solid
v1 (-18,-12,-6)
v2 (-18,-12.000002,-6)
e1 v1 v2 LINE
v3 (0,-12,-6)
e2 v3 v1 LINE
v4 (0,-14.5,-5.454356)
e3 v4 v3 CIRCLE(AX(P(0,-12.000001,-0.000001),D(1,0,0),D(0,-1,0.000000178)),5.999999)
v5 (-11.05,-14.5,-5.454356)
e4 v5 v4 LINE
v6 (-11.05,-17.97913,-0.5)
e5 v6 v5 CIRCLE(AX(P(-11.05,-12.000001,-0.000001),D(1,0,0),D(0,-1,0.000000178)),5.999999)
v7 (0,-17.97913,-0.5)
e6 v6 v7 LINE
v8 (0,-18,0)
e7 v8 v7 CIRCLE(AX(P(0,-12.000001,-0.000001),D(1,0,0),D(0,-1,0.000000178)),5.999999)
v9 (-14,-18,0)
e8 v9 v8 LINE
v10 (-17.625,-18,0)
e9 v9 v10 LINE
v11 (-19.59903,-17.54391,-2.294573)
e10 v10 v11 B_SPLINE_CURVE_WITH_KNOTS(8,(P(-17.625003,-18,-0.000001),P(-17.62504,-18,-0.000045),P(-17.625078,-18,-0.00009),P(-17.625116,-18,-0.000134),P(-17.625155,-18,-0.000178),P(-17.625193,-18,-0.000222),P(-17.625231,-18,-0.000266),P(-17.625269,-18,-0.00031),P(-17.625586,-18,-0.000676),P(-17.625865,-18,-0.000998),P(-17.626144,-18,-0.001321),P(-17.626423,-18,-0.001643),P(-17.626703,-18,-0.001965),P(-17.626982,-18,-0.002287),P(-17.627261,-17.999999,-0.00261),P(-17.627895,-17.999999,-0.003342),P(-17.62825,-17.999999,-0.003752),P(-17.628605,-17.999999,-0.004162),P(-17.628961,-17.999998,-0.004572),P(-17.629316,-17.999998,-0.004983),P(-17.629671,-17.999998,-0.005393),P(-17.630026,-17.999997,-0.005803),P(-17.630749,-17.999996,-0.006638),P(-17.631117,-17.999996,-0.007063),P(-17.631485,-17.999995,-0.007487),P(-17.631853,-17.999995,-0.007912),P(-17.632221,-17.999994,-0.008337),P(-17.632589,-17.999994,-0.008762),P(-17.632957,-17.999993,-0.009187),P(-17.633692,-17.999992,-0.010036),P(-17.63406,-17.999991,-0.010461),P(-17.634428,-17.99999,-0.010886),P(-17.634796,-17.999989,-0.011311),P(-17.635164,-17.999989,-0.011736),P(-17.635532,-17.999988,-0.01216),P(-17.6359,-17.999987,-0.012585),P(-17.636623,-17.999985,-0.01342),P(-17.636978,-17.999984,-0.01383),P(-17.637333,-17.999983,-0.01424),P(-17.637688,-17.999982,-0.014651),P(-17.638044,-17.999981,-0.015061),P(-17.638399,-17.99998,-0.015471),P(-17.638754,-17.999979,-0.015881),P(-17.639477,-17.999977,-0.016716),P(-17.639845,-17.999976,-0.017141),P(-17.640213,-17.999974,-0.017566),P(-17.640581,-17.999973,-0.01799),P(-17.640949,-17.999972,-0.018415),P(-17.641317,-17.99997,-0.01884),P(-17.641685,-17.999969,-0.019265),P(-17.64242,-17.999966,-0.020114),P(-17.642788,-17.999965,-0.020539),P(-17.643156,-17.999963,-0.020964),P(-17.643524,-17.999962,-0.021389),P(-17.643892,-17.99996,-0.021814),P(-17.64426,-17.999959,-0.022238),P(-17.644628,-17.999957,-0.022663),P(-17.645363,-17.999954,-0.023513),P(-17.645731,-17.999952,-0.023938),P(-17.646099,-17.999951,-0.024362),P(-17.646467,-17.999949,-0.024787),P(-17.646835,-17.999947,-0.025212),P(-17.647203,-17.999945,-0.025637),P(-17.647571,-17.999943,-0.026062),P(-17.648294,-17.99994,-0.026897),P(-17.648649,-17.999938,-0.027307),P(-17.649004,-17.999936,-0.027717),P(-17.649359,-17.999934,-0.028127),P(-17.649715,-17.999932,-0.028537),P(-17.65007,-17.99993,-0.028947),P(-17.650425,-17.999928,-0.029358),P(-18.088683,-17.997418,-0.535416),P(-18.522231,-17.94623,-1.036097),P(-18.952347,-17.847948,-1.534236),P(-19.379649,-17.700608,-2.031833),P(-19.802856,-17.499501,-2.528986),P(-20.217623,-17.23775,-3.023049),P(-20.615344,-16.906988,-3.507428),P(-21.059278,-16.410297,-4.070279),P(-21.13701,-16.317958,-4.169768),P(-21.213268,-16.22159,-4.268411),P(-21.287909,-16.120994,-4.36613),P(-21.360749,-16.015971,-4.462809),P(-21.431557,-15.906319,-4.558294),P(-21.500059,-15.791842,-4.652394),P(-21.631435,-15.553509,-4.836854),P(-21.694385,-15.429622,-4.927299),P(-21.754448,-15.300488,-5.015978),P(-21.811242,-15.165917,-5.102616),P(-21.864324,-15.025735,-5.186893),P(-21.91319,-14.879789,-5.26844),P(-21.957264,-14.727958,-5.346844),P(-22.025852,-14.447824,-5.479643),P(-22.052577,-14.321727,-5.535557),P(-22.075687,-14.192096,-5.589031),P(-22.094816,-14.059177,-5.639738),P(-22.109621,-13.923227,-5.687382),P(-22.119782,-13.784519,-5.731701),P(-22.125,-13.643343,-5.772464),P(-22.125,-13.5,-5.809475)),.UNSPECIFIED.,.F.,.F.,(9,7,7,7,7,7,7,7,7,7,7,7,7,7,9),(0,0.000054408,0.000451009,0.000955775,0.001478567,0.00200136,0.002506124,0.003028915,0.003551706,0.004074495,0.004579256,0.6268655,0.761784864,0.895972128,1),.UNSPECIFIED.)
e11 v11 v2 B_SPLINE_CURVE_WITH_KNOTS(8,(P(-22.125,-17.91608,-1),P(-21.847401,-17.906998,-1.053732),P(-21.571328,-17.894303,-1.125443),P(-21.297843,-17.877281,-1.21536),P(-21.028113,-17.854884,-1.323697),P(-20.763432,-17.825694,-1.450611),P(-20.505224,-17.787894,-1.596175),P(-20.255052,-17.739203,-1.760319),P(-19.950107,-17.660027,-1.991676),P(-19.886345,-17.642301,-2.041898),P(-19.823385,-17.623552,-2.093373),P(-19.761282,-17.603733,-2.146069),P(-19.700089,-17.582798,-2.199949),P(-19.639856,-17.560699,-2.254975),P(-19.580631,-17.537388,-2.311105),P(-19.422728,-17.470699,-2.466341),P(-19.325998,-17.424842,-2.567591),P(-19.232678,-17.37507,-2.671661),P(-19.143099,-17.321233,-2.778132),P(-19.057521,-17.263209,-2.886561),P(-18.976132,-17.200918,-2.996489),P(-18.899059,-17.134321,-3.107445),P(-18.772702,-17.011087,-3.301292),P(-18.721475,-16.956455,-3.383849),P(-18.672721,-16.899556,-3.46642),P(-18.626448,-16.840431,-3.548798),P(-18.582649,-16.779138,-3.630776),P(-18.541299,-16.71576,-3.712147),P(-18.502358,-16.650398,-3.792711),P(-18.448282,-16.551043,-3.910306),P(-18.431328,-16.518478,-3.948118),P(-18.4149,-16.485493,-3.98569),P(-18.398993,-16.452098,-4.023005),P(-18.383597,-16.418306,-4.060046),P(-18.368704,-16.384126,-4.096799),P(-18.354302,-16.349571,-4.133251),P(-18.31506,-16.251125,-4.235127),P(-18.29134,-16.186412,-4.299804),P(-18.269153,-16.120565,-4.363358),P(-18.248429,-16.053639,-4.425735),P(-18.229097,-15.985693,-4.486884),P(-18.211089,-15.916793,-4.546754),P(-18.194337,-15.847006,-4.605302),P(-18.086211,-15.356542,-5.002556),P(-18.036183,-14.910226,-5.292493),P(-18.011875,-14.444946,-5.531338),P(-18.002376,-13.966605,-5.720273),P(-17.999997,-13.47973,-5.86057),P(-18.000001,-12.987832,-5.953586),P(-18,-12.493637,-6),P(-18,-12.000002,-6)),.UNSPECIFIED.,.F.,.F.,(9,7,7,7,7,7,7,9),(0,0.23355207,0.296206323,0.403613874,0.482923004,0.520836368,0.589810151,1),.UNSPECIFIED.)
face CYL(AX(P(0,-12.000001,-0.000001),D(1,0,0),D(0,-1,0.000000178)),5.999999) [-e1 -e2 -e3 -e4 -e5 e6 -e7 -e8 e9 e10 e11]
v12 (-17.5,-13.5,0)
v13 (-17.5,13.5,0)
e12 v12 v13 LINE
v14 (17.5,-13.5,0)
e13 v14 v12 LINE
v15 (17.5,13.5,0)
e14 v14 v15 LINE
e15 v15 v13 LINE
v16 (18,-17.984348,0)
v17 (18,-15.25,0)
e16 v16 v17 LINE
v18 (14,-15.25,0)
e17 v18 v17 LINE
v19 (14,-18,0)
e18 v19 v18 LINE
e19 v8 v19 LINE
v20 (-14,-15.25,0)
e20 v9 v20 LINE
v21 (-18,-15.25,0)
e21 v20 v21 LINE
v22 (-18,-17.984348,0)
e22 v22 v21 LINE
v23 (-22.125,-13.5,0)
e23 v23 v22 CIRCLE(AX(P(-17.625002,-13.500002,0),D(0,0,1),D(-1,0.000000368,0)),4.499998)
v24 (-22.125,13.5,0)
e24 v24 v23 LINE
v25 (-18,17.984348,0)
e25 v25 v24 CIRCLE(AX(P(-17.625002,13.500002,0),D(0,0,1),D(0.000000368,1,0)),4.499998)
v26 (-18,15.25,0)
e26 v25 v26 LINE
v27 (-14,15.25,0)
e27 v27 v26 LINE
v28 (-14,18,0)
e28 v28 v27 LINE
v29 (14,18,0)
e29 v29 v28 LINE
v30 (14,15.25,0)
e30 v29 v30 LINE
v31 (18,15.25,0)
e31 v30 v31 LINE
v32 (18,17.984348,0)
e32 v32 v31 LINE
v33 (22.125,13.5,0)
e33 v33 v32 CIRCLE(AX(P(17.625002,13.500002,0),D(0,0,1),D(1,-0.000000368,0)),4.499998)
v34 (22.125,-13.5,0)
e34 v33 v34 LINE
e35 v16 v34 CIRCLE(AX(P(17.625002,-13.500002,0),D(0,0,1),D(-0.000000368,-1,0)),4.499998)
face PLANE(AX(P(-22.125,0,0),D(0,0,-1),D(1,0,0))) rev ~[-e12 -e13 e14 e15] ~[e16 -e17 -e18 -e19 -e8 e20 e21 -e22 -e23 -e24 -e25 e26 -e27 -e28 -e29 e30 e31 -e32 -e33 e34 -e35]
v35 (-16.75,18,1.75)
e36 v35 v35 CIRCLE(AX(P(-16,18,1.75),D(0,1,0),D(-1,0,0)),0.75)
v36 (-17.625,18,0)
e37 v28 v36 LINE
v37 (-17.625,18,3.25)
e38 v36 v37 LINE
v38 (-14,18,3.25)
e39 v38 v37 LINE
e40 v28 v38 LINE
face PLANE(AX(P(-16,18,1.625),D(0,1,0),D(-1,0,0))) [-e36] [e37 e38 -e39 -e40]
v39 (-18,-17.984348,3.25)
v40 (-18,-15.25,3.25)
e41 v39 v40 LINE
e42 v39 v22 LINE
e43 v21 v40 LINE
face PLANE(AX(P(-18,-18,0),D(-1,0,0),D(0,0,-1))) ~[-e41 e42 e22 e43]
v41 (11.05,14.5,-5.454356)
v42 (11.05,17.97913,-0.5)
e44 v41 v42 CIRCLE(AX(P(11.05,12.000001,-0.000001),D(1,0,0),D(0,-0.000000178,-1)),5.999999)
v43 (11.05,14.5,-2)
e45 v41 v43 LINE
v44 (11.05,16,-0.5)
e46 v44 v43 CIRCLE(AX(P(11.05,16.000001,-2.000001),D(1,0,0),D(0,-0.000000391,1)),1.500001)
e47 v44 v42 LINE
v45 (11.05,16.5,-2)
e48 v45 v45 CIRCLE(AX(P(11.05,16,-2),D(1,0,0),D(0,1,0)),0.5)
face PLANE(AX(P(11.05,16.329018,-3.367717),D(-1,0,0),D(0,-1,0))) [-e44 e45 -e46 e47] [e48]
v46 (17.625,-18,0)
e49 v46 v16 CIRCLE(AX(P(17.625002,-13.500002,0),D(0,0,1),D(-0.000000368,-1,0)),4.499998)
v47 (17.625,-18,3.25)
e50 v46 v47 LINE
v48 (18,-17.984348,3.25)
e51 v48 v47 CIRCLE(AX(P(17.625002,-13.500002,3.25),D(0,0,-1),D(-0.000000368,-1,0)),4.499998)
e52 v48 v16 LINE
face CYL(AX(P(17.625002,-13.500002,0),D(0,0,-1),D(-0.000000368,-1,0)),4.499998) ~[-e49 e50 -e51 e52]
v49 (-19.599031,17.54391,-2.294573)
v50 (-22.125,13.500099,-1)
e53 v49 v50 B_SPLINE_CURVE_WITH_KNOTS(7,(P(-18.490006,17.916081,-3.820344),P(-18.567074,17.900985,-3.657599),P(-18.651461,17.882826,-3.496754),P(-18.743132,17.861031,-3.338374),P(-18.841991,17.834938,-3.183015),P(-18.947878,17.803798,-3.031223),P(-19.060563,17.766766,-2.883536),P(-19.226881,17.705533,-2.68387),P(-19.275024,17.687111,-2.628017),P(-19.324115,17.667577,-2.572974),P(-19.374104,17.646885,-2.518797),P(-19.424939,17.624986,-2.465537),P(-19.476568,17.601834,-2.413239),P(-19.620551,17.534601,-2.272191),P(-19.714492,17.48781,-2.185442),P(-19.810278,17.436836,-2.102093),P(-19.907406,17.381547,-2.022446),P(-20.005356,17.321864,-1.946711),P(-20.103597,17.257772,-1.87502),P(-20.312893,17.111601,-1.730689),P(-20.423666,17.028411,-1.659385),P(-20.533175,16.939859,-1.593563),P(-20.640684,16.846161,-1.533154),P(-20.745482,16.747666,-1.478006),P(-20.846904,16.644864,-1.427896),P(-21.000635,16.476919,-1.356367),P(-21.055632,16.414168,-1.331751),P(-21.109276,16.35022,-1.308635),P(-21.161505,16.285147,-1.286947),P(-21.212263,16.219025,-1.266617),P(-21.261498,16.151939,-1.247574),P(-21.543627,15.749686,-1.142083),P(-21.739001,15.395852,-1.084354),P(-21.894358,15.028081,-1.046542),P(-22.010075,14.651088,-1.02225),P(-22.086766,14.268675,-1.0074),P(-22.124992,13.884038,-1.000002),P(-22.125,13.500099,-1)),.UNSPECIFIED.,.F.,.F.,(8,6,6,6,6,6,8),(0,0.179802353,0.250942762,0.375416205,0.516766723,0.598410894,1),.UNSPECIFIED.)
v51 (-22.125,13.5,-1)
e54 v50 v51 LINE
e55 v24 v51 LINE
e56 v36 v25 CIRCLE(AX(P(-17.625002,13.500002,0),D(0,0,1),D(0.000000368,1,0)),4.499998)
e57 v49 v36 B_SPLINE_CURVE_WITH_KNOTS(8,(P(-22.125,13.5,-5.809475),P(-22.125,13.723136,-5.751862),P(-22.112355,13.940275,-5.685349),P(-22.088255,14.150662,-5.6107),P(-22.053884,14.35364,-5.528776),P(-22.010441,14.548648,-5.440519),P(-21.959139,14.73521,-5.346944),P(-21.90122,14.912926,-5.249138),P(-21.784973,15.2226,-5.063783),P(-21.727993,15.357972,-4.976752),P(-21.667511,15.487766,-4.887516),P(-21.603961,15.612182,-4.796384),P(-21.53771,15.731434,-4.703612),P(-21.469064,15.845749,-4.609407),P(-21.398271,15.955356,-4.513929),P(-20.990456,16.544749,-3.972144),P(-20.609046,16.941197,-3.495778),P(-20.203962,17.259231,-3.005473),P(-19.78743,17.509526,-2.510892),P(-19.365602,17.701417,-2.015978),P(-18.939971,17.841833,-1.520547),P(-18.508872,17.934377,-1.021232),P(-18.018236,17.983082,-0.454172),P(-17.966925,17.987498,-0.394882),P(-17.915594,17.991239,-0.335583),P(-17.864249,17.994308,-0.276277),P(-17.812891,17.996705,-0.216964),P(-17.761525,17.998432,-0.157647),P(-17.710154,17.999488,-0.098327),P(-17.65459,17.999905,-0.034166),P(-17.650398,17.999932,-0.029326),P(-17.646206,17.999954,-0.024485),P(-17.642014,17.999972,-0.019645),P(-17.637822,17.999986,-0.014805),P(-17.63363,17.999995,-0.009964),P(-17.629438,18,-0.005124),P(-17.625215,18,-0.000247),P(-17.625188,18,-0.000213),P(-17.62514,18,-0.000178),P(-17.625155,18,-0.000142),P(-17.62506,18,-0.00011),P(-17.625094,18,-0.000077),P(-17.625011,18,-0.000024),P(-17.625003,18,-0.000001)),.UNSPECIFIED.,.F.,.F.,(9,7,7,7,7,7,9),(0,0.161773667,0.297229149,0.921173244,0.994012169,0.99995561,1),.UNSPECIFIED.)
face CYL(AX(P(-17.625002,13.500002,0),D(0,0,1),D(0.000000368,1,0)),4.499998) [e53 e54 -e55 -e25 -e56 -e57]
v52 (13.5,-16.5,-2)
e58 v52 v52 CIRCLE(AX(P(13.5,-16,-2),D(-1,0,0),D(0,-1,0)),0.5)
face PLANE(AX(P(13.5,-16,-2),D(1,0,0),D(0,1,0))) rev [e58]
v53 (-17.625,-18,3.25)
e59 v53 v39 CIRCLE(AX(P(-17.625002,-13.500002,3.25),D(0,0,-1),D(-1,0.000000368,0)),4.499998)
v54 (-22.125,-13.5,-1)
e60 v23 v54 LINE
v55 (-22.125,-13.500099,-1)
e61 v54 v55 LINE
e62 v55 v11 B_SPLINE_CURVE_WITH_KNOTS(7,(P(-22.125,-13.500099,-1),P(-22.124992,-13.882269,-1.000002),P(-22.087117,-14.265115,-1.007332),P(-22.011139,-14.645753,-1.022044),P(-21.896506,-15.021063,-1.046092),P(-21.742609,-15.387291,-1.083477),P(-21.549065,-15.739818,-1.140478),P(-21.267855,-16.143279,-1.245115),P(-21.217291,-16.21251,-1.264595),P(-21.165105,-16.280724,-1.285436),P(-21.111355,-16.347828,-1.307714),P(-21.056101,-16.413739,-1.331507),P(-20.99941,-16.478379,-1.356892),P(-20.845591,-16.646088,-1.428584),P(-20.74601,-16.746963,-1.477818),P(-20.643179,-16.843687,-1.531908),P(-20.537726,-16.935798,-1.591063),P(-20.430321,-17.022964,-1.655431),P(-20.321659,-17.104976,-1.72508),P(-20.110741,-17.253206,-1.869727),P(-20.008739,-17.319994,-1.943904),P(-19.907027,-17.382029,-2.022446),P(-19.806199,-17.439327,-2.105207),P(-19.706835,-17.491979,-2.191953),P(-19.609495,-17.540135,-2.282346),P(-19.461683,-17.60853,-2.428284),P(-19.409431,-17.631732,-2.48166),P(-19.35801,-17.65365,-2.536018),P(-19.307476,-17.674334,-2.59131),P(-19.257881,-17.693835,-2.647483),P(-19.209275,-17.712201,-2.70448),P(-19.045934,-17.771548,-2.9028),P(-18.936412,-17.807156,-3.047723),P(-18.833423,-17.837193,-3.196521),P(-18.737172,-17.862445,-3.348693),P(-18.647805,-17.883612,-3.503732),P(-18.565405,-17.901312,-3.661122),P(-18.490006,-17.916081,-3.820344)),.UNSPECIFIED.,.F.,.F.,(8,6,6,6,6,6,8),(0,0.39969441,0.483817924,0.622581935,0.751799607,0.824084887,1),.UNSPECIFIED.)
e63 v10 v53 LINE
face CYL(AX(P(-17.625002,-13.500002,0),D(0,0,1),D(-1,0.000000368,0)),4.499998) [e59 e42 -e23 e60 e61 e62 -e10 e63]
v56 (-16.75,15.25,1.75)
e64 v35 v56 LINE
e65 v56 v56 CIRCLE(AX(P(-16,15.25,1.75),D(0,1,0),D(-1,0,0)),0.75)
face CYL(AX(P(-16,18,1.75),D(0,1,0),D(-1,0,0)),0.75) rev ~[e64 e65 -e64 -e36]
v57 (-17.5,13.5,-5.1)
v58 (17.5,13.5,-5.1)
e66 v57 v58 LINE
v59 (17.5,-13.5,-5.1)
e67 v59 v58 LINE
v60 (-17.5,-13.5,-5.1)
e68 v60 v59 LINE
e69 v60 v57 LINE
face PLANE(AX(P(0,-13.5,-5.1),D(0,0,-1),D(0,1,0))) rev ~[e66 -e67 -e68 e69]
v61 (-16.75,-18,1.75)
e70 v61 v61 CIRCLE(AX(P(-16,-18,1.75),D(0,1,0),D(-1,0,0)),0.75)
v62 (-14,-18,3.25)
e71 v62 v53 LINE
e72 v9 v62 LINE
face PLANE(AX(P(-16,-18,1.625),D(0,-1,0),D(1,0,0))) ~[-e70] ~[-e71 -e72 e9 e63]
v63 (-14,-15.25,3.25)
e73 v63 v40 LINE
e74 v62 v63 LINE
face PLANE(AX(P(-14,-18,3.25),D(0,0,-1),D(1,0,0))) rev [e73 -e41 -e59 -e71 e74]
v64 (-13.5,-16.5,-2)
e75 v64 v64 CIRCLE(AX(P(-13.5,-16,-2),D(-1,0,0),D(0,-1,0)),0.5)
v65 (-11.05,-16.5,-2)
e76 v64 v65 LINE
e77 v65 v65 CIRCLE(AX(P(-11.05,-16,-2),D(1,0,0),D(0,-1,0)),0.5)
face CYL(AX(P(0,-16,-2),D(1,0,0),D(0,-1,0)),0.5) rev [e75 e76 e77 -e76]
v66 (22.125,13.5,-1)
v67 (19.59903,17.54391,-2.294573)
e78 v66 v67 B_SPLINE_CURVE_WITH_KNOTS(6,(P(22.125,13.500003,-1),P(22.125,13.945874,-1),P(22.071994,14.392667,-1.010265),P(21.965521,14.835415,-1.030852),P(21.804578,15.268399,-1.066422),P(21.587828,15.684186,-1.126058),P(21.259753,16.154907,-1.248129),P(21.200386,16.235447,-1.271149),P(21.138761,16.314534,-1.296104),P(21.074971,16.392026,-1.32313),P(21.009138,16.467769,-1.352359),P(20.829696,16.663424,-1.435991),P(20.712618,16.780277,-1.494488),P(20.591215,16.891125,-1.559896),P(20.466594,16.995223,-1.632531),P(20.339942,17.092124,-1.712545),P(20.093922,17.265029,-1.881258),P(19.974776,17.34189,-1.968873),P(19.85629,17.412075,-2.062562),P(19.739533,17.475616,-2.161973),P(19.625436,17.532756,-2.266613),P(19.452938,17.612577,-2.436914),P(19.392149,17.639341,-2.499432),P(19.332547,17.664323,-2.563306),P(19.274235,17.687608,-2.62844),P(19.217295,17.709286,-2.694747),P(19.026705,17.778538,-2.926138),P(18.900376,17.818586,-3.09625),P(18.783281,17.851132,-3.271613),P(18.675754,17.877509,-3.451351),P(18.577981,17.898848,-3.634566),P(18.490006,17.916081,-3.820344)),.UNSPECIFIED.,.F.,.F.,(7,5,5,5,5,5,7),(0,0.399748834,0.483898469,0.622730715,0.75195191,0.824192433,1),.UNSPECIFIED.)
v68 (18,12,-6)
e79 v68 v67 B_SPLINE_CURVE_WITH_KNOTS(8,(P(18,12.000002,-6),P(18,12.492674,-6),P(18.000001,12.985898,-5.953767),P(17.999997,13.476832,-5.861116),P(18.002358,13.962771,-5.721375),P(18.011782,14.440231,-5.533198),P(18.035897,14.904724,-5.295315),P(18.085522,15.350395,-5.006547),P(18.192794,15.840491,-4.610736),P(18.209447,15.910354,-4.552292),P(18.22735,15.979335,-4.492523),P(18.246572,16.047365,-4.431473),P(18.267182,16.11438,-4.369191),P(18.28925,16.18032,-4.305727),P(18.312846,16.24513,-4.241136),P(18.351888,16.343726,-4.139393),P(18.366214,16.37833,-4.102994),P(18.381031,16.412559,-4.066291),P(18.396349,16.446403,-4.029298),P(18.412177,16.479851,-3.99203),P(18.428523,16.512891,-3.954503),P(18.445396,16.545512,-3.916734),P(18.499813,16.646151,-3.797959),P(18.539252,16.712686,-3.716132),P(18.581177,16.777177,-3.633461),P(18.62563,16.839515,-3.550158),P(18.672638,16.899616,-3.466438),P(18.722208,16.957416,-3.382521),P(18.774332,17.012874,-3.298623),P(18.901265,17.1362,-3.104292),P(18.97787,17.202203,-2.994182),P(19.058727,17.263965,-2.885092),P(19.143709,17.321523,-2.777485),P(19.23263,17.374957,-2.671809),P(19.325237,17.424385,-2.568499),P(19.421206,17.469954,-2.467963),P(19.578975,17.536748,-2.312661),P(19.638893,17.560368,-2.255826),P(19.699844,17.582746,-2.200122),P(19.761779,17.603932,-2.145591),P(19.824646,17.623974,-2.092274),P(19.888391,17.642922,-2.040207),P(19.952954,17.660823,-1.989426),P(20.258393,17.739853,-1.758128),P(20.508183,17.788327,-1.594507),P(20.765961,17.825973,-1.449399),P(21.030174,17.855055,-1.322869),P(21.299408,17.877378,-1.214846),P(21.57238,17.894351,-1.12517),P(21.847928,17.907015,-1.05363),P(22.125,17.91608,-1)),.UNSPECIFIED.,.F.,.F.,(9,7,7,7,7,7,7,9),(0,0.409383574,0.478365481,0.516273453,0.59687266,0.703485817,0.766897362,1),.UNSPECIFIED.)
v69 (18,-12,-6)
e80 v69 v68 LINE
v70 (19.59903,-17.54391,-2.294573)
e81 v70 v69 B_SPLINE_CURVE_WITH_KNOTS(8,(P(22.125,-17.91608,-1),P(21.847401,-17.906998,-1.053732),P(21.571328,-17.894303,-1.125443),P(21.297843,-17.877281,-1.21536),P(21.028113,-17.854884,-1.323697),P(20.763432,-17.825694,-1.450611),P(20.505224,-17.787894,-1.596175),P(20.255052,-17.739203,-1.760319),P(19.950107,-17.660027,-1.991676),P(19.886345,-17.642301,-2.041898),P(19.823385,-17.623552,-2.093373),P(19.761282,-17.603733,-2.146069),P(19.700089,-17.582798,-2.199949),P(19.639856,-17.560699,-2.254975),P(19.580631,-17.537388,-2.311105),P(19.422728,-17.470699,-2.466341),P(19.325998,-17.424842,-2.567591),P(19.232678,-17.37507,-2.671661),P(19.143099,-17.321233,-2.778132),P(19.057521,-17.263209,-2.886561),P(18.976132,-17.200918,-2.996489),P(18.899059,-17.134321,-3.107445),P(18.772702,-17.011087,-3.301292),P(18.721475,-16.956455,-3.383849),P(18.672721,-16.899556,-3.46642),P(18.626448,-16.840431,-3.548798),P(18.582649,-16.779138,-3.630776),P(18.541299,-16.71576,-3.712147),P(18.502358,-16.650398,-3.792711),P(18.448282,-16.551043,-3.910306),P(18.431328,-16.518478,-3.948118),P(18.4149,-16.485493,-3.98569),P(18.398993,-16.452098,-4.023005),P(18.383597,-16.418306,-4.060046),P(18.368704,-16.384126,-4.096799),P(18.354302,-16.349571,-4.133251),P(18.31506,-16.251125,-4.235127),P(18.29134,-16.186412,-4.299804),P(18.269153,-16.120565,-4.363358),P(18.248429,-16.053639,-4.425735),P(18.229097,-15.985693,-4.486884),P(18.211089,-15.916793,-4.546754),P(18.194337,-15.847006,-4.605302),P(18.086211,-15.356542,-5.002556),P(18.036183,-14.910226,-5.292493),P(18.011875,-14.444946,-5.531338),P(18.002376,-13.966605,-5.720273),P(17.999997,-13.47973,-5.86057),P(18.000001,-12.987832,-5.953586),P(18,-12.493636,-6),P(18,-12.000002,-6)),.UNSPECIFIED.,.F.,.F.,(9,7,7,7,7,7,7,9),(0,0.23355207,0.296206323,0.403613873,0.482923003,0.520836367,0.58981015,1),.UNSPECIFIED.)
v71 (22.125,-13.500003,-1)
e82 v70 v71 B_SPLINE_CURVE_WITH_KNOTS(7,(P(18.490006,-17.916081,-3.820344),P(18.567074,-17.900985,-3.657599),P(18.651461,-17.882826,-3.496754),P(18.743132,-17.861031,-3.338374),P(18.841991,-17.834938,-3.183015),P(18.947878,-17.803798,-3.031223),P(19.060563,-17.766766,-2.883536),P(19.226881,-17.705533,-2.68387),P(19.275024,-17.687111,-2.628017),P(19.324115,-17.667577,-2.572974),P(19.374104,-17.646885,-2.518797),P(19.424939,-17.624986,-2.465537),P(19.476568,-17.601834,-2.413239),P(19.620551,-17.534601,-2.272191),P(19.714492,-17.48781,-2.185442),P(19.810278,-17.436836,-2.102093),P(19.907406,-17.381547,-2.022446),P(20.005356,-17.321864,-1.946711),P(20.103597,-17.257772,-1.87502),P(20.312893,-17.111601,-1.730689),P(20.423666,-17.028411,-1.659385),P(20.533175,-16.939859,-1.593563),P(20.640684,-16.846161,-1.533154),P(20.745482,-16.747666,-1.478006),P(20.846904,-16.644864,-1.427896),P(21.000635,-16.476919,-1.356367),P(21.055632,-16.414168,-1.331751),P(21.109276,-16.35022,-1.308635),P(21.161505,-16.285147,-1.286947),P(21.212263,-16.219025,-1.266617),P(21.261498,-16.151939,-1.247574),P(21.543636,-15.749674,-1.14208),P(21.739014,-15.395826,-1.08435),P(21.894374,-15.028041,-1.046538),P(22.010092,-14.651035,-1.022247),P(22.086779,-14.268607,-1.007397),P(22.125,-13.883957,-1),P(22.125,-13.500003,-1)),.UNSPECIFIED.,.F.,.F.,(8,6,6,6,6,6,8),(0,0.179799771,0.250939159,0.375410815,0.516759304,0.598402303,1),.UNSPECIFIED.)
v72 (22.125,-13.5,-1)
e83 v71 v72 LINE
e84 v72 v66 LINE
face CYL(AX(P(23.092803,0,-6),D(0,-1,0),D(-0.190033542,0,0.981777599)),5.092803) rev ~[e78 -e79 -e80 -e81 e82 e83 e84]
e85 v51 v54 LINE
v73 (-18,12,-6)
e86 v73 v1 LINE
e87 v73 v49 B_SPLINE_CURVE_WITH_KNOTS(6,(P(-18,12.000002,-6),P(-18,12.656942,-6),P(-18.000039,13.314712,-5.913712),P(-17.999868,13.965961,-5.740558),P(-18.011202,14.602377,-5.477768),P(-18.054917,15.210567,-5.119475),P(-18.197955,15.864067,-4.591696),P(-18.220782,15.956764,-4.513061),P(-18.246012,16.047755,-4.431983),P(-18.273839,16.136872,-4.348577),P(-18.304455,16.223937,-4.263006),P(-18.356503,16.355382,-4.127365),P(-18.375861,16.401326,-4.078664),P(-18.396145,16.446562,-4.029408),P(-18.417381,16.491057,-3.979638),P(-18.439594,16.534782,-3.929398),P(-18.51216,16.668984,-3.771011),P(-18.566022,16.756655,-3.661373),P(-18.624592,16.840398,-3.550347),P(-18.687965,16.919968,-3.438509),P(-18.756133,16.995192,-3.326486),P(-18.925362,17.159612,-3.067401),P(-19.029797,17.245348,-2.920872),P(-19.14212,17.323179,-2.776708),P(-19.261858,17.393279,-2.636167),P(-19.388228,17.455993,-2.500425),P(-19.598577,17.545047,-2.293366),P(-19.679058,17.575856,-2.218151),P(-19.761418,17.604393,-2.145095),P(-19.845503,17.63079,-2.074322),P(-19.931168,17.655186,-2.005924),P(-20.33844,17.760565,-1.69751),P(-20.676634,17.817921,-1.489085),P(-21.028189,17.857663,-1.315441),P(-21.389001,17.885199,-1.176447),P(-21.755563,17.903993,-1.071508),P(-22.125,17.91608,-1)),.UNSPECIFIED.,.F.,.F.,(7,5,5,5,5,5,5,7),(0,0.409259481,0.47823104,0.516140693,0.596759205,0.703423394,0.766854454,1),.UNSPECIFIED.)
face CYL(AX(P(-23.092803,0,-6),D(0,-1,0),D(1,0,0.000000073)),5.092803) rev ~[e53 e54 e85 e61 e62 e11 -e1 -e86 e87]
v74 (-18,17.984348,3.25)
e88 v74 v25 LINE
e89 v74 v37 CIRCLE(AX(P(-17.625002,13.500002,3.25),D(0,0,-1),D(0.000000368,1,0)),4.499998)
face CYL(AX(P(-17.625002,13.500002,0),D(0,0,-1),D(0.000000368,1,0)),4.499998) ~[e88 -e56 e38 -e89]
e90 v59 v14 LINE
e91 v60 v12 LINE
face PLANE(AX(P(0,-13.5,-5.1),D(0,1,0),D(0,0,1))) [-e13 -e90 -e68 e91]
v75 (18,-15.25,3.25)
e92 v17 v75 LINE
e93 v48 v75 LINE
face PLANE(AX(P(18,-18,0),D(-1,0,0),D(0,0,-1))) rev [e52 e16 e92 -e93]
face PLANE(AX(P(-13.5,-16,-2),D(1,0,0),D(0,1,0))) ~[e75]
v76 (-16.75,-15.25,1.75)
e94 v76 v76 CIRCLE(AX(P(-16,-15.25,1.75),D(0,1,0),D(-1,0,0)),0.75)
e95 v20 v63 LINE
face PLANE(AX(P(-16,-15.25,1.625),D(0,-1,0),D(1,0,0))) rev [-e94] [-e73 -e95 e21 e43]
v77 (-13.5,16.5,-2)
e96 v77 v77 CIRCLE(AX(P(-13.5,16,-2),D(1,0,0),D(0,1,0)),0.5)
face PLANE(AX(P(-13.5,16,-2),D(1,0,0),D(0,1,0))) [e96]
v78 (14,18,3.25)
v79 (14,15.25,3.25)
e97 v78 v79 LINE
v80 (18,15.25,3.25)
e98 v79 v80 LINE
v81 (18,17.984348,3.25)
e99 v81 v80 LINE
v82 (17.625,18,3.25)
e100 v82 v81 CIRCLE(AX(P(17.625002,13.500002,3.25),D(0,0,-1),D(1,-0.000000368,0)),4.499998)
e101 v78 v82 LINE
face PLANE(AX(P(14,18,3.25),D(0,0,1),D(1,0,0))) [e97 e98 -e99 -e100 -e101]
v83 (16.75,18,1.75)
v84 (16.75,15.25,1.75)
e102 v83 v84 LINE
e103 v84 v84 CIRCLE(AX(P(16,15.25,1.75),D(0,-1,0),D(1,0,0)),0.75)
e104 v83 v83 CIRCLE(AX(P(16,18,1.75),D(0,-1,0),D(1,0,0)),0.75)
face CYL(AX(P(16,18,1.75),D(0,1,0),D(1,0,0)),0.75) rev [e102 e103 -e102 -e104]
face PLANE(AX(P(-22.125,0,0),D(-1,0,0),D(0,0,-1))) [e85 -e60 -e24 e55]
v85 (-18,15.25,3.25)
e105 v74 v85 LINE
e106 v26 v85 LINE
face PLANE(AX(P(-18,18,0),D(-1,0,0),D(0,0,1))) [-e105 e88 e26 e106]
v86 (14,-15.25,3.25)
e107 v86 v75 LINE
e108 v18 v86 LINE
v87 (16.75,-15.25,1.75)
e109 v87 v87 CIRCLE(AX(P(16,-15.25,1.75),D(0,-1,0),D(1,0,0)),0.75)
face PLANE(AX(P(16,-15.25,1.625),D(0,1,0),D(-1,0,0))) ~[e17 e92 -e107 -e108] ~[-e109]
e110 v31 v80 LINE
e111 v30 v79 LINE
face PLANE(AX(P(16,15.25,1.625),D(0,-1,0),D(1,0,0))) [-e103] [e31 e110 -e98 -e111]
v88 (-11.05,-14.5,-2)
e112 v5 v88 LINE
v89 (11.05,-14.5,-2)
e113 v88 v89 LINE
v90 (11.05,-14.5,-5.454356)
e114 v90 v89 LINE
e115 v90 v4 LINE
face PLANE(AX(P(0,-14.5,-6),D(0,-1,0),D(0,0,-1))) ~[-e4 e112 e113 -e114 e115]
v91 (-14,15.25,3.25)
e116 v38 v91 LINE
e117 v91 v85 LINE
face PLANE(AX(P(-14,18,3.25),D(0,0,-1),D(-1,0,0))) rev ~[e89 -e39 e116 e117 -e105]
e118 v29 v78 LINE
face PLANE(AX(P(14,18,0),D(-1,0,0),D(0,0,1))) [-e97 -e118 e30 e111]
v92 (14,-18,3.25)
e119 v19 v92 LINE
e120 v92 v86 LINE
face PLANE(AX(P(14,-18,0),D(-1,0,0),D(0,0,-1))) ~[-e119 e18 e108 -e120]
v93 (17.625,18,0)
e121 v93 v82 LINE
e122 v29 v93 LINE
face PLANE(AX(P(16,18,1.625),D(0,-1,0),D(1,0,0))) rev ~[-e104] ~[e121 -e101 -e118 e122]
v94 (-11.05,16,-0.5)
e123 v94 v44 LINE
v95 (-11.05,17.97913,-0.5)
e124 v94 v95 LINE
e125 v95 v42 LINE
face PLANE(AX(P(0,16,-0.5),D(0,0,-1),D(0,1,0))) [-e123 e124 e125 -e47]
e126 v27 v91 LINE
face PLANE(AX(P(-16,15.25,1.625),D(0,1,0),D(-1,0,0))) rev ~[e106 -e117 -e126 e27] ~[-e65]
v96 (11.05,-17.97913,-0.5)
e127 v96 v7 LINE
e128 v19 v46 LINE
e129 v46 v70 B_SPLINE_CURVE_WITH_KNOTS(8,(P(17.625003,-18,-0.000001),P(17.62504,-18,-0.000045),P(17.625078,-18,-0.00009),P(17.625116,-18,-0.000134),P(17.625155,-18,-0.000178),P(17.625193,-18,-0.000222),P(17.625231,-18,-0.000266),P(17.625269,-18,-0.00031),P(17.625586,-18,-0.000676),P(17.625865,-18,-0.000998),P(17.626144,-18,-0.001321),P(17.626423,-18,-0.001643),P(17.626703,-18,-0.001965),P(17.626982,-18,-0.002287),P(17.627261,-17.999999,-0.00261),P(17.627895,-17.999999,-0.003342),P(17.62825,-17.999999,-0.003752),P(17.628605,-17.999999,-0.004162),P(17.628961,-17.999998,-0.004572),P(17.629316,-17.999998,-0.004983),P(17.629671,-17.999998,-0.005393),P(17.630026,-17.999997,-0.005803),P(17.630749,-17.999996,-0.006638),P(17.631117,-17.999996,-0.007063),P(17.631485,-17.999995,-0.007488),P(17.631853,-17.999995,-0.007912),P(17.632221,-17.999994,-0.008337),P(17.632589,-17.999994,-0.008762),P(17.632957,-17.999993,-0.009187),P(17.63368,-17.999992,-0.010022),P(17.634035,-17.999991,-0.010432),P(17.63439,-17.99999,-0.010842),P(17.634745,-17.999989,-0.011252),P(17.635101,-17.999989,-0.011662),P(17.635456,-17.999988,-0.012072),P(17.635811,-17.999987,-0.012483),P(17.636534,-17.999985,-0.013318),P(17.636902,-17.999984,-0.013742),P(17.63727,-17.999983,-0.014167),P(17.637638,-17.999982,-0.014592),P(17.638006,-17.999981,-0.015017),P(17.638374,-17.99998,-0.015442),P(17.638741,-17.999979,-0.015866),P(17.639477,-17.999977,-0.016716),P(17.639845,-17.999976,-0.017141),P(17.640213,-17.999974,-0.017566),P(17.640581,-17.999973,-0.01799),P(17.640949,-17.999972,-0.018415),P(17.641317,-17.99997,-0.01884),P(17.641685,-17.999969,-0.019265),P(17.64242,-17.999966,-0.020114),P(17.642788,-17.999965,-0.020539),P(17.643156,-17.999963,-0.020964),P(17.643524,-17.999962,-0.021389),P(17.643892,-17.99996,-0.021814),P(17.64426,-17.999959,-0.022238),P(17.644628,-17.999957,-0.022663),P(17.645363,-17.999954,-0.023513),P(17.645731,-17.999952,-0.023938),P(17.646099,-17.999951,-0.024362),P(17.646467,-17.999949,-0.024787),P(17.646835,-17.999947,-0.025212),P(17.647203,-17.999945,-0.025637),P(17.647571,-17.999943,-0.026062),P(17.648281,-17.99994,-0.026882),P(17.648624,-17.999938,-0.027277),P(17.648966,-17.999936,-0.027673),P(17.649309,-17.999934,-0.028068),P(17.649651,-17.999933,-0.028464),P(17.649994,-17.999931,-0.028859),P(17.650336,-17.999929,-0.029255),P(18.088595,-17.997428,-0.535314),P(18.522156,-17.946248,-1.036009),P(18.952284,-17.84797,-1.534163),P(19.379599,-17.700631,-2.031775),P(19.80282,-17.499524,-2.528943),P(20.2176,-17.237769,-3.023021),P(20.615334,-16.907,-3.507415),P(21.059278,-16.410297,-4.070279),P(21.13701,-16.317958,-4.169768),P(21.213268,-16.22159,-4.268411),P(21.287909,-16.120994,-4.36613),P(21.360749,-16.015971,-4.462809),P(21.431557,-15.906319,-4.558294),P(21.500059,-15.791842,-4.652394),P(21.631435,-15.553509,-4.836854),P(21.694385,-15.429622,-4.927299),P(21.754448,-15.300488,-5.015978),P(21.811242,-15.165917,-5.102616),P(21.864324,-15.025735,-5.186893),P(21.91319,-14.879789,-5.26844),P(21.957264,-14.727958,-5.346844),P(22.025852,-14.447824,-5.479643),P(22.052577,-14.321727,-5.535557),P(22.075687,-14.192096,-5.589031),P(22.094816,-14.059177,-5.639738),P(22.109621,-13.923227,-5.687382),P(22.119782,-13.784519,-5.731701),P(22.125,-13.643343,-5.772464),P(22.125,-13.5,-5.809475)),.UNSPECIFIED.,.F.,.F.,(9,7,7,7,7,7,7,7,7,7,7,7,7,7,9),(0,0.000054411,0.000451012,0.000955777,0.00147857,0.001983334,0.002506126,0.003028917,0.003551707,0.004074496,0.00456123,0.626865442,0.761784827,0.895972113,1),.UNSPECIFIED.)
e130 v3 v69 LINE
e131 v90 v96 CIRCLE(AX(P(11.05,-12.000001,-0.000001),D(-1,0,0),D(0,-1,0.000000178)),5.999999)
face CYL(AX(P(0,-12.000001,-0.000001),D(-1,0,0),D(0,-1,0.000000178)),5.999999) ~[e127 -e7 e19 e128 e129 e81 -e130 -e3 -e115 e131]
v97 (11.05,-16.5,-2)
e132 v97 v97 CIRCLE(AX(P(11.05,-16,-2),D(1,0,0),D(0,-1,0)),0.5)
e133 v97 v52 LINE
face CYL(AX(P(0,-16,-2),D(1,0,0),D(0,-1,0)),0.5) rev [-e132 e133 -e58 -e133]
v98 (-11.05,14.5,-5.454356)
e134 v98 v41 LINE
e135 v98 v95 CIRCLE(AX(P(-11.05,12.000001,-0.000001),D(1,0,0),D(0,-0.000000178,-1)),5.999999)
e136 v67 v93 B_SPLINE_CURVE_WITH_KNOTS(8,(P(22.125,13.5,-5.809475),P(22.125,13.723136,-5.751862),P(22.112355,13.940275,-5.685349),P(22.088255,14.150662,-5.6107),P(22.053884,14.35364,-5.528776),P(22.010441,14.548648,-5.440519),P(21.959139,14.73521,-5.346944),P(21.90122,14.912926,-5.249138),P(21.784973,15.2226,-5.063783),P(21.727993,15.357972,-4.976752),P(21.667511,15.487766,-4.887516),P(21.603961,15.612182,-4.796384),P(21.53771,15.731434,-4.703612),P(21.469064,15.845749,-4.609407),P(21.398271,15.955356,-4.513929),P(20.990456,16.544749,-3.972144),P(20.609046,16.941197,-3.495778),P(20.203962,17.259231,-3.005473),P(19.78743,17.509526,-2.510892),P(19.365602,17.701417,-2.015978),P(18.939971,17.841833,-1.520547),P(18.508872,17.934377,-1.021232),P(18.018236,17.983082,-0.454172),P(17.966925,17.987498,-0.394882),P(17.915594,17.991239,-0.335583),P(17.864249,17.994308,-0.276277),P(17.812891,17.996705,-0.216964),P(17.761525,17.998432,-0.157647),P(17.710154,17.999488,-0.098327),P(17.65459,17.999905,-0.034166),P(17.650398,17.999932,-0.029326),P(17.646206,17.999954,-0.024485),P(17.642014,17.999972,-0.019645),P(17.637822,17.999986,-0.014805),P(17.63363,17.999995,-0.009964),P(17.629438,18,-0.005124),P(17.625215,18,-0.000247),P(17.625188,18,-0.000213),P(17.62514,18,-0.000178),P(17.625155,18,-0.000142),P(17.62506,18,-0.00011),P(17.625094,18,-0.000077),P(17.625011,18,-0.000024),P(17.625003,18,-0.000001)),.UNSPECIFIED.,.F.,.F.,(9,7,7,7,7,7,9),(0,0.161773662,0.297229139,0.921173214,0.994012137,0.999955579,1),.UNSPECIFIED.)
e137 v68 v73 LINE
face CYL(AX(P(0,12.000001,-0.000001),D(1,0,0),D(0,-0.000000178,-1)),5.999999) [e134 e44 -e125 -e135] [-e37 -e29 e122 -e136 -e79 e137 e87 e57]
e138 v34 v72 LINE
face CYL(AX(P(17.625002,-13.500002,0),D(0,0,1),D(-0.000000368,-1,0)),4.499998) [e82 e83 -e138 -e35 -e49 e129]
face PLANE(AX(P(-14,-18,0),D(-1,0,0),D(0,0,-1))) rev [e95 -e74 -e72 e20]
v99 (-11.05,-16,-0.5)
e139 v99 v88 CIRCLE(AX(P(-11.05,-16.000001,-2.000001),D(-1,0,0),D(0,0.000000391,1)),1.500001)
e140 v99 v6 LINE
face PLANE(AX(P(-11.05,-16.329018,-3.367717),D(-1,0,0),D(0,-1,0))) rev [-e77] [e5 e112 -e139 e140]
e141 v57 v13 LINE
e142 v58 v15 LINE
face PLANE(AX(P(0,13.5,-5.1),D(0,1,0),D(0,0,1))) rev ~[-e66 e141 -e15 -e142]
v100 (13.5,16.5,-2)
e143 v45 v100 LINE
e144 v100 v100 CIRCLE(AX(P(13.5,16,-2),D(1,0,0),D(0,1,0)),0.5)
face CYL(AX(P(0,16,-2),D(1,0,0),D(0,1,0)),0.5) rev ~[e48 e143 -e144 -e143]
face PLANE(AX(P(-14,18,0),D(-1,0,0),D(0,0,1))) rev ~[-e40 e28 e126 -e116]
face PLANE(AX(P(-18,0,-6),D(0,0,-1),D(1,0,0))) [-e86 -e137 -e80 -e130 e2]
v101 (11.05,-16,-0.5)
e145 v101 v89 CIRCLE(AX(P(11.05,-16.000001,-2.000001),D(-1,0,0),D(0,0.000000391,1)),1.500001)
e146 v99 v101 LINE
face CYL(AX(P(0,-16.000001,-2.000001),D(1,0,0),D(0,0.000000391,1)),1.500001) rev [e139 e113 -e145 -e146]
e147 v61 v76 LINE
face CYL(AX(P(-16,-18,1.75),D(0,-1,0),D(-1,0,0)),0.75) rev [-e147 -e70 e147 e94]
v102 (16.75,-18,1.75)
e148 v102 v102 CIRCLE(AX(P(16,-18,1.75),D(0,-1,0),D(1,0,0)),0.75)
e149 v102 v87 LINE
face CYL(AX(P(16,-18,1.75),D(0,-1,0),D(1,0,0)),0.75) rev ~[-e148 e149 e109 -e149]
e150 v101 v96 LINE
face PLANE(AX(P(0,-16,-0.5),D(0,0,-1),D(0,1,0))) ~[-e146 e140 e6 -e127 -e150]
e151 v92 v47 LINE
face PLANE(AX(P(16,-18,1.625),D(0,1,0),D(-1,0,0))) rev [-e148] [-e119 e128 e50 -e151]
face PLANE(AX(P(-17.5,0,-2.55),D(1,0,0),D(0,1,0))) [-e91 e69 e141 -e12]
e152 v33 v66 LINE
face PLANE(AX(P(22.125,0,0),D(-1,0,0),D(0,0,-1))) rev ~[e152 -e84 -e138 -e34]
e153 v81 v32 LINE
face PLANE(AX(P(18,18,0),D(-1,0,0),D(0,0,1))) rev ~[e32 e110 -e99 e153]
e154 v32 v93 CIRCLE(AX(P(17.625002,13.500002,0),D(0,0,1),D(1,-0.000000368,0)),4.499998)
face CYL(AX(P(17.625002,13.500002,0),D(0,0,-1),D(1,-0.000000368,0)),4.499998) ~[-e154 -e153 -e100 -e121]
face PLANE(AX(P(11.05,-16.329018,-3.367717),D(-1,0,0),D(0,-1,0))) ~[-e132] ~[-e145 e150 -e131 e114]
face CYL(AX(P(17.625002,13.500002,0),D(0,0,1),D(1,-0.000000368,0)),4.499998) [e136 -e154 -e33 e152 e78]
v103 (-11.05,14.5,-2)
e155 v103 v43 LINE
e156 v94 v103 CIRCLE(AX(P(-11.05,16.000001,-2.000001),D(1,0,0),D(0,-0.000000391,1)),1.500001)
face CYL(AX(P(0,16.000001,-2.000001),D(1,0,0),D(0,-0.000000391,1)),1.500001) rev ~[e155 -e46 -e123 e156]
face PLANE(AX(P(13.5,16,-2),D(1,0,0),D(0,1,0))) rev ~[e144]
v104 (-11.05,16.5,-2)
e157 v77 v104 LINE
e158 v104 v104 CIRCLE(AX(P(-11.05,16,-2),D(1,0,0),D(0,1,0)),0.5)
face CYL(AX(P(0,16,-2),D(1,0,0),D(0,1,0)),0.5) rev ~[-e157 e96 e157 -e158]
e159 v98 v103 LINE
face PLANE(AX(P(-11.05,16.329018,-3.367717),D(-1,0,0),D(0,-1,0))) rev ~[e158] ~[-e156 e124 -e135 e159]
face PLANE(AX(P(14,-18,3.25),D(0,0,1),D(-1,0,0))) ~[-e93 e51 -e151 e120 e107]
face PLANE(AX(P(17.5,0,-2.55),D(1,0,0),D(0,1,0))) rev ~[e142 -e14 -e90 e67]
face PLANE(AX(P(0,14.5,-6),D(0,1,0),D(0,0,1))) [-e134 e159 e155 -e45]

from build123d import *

# Parameters (mm, degrees)
PAD003_DEPTH               = 18
POCKET008_DEPTH            = 22.126
POCKET008_DEPTH_BACK       = 22.126
SKETCH014_W                = 27
SKETCH014_H                = 5.1
POCKET009_DEPTH            = 17.5
POCKET010_DEPTH            = 11.05
SKETCH016_R                = 0.5
POCKET011_DEPTH            = 13.5
SKETCH018_W                = 4
SKETCH018_H                = 3.25
SKETCH018_R                = 0.75
PAD004_DEPTH               = 2.75
SKETCH018_MIRRORED005_2_W  = 4
SKETCH018_MIRRORED005_2_H  = 3.25
SKETCH018_MIRRORED005_2_R  = 0.75
PAD004_MIRRORED005_2_DEPTH = 2.75
SKETCH010_W                = 70
SKETCH010_H                = 70
POCKET013_DEPTH            = 6.001
POCKET013_DEPTH_BACK       = 3.251


with BuildPart() as part:
    # Sketch009 → Pad003 (new body, symmetric)
    with BuildSketch(Plane.XZ):
        with BuildLine():
            Line((-22.125, 0), (22.125, 0))
            Line((22.125, 0), (22.125, -1))
            ThreePointArc((22.125, -1), (19.164351, -2.759027), (18, -6))
            Line((-18, -6), (18, -6))
            ThreePointArc((-18, -6), (-19.164351, -2.759027), (-22.125, -1))
            Line((-22.125, 0), (-22.125, -1))
        make_face()
    extrude(amount=PAD003_DEPTH, both=True)

    # Sketch013 → Pocket008 (cut, two sides)
    with BuildSketch(Plane.YZ) as pocket008_sk:
        with BuildLine():
            ThreePointArc((-18, 0), (-16.242641, -4.242641), (-12, -6))
            Line((-12, -6), (-18, -6))
            Line((-18, 0), (-18, -6))
        make_face()
        with BuildLine():
            ThreePointArc((12, -6), (16.242641, -4.242641), (18, 0))
            Line((18, 0), (18, -6))
            Line((12, -6), (18, -6))
        make_face()
    extrude(amount=-POCKET008_DEPTH, mode=Mode.SUBTRACT)
    extrude(pocket008_sk.sketch, amount=POCKET008_DEPTH_BACK, mode=Mode.SUBTRACT)

    # Sketch014 → Pocket009 (cut, symmetric)
    with BuildSketch(Plane.YZ):
        with Locations((0, -2.55)):
            Rectangle(SKETCH014_W, SKETCH014_H)
    pocket009 = extrude(amount=POCKET009_DEPTH, both=True, mode=Mode.SUBTRACT)

    # Sketch015 → Pocket010 (cut, symmetric)
    with BuildSketch(Plane.YZ):
        with BuildLine():
            Line((16, -0.5), (18, -0.5))
            Line((18, -0.5), (18, -6))
            Line((18, -6), (14.5, -6))
            Line((14.5, -6), (14.5, -2))
            ThreePointArc((16, -0.5), (14.93934, -0.93934), (14.5, -2))
        make_face()
    pocket010 = extrude(amount=POCKET010_DEPTH, both=True, mode=Mode.SUBTRACT)

    # Sketch016 → Pocket011 (cut, symmetric)
    with BuildSketch(Plane.YZ):
        with Locations((16, -2)):
            Circle(SKETCH016_R)
    pocket011 = extrude(amount=POCKET011_DEPTH, both=True, mode=Mode.SUBTRACT)

    # Mirrored004: Pocket009, Pocket010, Pocket011 across Sketch014 V_Axis
    add(pocket009.mirror(Plane(origin=(0, 0, 0), x_dir=(1, 0, 0), z_dir=(0, 1, 0))), mode=Mode.SUBTRACT)
    add(pocket010.mirror(Plane(origin=(0, 0, 0), x_dir=(1, 0, 0), z_dir=(0, 1, 0))), mode=Mode.SUBTRACT)
    add(pocket011.mirror(Plane(origin=(0, 0, 0), x_dir=(1, 0, 0), z_dir=(0, 1, 0))), mode=Mode.SUBTRACT)

    # Sketch018 → Pad004 (join)
    with BuildSketch(Plane.XZ.offset(-18)):
        with Locations((16, 1.625)):
            Rectangle(SKETCH018_W, SKETCH018_H)
        with Locations((16, 1.75)):
            Circle(SKETCH018_R, mode=Mode.SUBTRACT)
    pad004 = extrude(amount=PAD004_DEPTH)

    # Sketch018 Mirrored005 2 → Pad004 Mirrored005 2 (add)
    with BuildSketch(Plane(origin=(0, 18, 0), x_dir=(-1, 0, 0), z_dir=(0, 1, 0))):
        with Locations((16, 1.625)):
            Rectangle(SKETCH018_MIRRORED005_2_W, SKETCH018_MIRRORED005_2_H)
        with Locations((16, 1.75)):
            Circle(SKETCH018_MIRRORED005_2_R, mode=Mode.SUBTRACT)
    pad004_mirrored005_2 = extrude(amount=-PAD004_MIRRORED005_2_DEPTH)

    # Mirrored006: Pad004, Pad004 Mirrored005 2 across XZ
    add(pad004.mirror(Plane.XZ))
    add(pad004_mirrored005_2.mirror(Plane.XZ))

    # Sketch010 → Pocket013 (cut, two sides)
    with BuildSketch(Plane.XY) as pocket013_sk:
        Rectangle(SKETCH010_W, SKETCH010_H)
        with BuildLine():
            ThreePointArc((-17.625, 18), (-20.806981, 16.681981), (-22.125, 13.5))
            Line((-22.125, 13.5), (-22.125, -13.5))
            ThreePointArc((-22.125, -13.5), (-20.806981, -16.681981), (-17.625, -18))
            Line((-17.625, -18), (17.625, -18))
            ThreePointArc((17.625, -18), (20.806981, -16.681981), (22.125, -13.5))
            Line((22.125, 13.5), (22.125, -13.5))
            ThreePointArc((22.125, 13.5), (20.806981, 16.681981), (17.625, 18))
            Line((17.625, 18), (-17.625, 18))
        make_face(mode=Mode.SUBTRACT)
    extrude(amount=-POCKET013_DEPTH, mode=Mode.SUBTRACT)
    extrude(pocket013_sk.sketch, amount=POCKET013_DEPTH_BACK, mode=Mode.SUBTRACT)


solid = part.part
